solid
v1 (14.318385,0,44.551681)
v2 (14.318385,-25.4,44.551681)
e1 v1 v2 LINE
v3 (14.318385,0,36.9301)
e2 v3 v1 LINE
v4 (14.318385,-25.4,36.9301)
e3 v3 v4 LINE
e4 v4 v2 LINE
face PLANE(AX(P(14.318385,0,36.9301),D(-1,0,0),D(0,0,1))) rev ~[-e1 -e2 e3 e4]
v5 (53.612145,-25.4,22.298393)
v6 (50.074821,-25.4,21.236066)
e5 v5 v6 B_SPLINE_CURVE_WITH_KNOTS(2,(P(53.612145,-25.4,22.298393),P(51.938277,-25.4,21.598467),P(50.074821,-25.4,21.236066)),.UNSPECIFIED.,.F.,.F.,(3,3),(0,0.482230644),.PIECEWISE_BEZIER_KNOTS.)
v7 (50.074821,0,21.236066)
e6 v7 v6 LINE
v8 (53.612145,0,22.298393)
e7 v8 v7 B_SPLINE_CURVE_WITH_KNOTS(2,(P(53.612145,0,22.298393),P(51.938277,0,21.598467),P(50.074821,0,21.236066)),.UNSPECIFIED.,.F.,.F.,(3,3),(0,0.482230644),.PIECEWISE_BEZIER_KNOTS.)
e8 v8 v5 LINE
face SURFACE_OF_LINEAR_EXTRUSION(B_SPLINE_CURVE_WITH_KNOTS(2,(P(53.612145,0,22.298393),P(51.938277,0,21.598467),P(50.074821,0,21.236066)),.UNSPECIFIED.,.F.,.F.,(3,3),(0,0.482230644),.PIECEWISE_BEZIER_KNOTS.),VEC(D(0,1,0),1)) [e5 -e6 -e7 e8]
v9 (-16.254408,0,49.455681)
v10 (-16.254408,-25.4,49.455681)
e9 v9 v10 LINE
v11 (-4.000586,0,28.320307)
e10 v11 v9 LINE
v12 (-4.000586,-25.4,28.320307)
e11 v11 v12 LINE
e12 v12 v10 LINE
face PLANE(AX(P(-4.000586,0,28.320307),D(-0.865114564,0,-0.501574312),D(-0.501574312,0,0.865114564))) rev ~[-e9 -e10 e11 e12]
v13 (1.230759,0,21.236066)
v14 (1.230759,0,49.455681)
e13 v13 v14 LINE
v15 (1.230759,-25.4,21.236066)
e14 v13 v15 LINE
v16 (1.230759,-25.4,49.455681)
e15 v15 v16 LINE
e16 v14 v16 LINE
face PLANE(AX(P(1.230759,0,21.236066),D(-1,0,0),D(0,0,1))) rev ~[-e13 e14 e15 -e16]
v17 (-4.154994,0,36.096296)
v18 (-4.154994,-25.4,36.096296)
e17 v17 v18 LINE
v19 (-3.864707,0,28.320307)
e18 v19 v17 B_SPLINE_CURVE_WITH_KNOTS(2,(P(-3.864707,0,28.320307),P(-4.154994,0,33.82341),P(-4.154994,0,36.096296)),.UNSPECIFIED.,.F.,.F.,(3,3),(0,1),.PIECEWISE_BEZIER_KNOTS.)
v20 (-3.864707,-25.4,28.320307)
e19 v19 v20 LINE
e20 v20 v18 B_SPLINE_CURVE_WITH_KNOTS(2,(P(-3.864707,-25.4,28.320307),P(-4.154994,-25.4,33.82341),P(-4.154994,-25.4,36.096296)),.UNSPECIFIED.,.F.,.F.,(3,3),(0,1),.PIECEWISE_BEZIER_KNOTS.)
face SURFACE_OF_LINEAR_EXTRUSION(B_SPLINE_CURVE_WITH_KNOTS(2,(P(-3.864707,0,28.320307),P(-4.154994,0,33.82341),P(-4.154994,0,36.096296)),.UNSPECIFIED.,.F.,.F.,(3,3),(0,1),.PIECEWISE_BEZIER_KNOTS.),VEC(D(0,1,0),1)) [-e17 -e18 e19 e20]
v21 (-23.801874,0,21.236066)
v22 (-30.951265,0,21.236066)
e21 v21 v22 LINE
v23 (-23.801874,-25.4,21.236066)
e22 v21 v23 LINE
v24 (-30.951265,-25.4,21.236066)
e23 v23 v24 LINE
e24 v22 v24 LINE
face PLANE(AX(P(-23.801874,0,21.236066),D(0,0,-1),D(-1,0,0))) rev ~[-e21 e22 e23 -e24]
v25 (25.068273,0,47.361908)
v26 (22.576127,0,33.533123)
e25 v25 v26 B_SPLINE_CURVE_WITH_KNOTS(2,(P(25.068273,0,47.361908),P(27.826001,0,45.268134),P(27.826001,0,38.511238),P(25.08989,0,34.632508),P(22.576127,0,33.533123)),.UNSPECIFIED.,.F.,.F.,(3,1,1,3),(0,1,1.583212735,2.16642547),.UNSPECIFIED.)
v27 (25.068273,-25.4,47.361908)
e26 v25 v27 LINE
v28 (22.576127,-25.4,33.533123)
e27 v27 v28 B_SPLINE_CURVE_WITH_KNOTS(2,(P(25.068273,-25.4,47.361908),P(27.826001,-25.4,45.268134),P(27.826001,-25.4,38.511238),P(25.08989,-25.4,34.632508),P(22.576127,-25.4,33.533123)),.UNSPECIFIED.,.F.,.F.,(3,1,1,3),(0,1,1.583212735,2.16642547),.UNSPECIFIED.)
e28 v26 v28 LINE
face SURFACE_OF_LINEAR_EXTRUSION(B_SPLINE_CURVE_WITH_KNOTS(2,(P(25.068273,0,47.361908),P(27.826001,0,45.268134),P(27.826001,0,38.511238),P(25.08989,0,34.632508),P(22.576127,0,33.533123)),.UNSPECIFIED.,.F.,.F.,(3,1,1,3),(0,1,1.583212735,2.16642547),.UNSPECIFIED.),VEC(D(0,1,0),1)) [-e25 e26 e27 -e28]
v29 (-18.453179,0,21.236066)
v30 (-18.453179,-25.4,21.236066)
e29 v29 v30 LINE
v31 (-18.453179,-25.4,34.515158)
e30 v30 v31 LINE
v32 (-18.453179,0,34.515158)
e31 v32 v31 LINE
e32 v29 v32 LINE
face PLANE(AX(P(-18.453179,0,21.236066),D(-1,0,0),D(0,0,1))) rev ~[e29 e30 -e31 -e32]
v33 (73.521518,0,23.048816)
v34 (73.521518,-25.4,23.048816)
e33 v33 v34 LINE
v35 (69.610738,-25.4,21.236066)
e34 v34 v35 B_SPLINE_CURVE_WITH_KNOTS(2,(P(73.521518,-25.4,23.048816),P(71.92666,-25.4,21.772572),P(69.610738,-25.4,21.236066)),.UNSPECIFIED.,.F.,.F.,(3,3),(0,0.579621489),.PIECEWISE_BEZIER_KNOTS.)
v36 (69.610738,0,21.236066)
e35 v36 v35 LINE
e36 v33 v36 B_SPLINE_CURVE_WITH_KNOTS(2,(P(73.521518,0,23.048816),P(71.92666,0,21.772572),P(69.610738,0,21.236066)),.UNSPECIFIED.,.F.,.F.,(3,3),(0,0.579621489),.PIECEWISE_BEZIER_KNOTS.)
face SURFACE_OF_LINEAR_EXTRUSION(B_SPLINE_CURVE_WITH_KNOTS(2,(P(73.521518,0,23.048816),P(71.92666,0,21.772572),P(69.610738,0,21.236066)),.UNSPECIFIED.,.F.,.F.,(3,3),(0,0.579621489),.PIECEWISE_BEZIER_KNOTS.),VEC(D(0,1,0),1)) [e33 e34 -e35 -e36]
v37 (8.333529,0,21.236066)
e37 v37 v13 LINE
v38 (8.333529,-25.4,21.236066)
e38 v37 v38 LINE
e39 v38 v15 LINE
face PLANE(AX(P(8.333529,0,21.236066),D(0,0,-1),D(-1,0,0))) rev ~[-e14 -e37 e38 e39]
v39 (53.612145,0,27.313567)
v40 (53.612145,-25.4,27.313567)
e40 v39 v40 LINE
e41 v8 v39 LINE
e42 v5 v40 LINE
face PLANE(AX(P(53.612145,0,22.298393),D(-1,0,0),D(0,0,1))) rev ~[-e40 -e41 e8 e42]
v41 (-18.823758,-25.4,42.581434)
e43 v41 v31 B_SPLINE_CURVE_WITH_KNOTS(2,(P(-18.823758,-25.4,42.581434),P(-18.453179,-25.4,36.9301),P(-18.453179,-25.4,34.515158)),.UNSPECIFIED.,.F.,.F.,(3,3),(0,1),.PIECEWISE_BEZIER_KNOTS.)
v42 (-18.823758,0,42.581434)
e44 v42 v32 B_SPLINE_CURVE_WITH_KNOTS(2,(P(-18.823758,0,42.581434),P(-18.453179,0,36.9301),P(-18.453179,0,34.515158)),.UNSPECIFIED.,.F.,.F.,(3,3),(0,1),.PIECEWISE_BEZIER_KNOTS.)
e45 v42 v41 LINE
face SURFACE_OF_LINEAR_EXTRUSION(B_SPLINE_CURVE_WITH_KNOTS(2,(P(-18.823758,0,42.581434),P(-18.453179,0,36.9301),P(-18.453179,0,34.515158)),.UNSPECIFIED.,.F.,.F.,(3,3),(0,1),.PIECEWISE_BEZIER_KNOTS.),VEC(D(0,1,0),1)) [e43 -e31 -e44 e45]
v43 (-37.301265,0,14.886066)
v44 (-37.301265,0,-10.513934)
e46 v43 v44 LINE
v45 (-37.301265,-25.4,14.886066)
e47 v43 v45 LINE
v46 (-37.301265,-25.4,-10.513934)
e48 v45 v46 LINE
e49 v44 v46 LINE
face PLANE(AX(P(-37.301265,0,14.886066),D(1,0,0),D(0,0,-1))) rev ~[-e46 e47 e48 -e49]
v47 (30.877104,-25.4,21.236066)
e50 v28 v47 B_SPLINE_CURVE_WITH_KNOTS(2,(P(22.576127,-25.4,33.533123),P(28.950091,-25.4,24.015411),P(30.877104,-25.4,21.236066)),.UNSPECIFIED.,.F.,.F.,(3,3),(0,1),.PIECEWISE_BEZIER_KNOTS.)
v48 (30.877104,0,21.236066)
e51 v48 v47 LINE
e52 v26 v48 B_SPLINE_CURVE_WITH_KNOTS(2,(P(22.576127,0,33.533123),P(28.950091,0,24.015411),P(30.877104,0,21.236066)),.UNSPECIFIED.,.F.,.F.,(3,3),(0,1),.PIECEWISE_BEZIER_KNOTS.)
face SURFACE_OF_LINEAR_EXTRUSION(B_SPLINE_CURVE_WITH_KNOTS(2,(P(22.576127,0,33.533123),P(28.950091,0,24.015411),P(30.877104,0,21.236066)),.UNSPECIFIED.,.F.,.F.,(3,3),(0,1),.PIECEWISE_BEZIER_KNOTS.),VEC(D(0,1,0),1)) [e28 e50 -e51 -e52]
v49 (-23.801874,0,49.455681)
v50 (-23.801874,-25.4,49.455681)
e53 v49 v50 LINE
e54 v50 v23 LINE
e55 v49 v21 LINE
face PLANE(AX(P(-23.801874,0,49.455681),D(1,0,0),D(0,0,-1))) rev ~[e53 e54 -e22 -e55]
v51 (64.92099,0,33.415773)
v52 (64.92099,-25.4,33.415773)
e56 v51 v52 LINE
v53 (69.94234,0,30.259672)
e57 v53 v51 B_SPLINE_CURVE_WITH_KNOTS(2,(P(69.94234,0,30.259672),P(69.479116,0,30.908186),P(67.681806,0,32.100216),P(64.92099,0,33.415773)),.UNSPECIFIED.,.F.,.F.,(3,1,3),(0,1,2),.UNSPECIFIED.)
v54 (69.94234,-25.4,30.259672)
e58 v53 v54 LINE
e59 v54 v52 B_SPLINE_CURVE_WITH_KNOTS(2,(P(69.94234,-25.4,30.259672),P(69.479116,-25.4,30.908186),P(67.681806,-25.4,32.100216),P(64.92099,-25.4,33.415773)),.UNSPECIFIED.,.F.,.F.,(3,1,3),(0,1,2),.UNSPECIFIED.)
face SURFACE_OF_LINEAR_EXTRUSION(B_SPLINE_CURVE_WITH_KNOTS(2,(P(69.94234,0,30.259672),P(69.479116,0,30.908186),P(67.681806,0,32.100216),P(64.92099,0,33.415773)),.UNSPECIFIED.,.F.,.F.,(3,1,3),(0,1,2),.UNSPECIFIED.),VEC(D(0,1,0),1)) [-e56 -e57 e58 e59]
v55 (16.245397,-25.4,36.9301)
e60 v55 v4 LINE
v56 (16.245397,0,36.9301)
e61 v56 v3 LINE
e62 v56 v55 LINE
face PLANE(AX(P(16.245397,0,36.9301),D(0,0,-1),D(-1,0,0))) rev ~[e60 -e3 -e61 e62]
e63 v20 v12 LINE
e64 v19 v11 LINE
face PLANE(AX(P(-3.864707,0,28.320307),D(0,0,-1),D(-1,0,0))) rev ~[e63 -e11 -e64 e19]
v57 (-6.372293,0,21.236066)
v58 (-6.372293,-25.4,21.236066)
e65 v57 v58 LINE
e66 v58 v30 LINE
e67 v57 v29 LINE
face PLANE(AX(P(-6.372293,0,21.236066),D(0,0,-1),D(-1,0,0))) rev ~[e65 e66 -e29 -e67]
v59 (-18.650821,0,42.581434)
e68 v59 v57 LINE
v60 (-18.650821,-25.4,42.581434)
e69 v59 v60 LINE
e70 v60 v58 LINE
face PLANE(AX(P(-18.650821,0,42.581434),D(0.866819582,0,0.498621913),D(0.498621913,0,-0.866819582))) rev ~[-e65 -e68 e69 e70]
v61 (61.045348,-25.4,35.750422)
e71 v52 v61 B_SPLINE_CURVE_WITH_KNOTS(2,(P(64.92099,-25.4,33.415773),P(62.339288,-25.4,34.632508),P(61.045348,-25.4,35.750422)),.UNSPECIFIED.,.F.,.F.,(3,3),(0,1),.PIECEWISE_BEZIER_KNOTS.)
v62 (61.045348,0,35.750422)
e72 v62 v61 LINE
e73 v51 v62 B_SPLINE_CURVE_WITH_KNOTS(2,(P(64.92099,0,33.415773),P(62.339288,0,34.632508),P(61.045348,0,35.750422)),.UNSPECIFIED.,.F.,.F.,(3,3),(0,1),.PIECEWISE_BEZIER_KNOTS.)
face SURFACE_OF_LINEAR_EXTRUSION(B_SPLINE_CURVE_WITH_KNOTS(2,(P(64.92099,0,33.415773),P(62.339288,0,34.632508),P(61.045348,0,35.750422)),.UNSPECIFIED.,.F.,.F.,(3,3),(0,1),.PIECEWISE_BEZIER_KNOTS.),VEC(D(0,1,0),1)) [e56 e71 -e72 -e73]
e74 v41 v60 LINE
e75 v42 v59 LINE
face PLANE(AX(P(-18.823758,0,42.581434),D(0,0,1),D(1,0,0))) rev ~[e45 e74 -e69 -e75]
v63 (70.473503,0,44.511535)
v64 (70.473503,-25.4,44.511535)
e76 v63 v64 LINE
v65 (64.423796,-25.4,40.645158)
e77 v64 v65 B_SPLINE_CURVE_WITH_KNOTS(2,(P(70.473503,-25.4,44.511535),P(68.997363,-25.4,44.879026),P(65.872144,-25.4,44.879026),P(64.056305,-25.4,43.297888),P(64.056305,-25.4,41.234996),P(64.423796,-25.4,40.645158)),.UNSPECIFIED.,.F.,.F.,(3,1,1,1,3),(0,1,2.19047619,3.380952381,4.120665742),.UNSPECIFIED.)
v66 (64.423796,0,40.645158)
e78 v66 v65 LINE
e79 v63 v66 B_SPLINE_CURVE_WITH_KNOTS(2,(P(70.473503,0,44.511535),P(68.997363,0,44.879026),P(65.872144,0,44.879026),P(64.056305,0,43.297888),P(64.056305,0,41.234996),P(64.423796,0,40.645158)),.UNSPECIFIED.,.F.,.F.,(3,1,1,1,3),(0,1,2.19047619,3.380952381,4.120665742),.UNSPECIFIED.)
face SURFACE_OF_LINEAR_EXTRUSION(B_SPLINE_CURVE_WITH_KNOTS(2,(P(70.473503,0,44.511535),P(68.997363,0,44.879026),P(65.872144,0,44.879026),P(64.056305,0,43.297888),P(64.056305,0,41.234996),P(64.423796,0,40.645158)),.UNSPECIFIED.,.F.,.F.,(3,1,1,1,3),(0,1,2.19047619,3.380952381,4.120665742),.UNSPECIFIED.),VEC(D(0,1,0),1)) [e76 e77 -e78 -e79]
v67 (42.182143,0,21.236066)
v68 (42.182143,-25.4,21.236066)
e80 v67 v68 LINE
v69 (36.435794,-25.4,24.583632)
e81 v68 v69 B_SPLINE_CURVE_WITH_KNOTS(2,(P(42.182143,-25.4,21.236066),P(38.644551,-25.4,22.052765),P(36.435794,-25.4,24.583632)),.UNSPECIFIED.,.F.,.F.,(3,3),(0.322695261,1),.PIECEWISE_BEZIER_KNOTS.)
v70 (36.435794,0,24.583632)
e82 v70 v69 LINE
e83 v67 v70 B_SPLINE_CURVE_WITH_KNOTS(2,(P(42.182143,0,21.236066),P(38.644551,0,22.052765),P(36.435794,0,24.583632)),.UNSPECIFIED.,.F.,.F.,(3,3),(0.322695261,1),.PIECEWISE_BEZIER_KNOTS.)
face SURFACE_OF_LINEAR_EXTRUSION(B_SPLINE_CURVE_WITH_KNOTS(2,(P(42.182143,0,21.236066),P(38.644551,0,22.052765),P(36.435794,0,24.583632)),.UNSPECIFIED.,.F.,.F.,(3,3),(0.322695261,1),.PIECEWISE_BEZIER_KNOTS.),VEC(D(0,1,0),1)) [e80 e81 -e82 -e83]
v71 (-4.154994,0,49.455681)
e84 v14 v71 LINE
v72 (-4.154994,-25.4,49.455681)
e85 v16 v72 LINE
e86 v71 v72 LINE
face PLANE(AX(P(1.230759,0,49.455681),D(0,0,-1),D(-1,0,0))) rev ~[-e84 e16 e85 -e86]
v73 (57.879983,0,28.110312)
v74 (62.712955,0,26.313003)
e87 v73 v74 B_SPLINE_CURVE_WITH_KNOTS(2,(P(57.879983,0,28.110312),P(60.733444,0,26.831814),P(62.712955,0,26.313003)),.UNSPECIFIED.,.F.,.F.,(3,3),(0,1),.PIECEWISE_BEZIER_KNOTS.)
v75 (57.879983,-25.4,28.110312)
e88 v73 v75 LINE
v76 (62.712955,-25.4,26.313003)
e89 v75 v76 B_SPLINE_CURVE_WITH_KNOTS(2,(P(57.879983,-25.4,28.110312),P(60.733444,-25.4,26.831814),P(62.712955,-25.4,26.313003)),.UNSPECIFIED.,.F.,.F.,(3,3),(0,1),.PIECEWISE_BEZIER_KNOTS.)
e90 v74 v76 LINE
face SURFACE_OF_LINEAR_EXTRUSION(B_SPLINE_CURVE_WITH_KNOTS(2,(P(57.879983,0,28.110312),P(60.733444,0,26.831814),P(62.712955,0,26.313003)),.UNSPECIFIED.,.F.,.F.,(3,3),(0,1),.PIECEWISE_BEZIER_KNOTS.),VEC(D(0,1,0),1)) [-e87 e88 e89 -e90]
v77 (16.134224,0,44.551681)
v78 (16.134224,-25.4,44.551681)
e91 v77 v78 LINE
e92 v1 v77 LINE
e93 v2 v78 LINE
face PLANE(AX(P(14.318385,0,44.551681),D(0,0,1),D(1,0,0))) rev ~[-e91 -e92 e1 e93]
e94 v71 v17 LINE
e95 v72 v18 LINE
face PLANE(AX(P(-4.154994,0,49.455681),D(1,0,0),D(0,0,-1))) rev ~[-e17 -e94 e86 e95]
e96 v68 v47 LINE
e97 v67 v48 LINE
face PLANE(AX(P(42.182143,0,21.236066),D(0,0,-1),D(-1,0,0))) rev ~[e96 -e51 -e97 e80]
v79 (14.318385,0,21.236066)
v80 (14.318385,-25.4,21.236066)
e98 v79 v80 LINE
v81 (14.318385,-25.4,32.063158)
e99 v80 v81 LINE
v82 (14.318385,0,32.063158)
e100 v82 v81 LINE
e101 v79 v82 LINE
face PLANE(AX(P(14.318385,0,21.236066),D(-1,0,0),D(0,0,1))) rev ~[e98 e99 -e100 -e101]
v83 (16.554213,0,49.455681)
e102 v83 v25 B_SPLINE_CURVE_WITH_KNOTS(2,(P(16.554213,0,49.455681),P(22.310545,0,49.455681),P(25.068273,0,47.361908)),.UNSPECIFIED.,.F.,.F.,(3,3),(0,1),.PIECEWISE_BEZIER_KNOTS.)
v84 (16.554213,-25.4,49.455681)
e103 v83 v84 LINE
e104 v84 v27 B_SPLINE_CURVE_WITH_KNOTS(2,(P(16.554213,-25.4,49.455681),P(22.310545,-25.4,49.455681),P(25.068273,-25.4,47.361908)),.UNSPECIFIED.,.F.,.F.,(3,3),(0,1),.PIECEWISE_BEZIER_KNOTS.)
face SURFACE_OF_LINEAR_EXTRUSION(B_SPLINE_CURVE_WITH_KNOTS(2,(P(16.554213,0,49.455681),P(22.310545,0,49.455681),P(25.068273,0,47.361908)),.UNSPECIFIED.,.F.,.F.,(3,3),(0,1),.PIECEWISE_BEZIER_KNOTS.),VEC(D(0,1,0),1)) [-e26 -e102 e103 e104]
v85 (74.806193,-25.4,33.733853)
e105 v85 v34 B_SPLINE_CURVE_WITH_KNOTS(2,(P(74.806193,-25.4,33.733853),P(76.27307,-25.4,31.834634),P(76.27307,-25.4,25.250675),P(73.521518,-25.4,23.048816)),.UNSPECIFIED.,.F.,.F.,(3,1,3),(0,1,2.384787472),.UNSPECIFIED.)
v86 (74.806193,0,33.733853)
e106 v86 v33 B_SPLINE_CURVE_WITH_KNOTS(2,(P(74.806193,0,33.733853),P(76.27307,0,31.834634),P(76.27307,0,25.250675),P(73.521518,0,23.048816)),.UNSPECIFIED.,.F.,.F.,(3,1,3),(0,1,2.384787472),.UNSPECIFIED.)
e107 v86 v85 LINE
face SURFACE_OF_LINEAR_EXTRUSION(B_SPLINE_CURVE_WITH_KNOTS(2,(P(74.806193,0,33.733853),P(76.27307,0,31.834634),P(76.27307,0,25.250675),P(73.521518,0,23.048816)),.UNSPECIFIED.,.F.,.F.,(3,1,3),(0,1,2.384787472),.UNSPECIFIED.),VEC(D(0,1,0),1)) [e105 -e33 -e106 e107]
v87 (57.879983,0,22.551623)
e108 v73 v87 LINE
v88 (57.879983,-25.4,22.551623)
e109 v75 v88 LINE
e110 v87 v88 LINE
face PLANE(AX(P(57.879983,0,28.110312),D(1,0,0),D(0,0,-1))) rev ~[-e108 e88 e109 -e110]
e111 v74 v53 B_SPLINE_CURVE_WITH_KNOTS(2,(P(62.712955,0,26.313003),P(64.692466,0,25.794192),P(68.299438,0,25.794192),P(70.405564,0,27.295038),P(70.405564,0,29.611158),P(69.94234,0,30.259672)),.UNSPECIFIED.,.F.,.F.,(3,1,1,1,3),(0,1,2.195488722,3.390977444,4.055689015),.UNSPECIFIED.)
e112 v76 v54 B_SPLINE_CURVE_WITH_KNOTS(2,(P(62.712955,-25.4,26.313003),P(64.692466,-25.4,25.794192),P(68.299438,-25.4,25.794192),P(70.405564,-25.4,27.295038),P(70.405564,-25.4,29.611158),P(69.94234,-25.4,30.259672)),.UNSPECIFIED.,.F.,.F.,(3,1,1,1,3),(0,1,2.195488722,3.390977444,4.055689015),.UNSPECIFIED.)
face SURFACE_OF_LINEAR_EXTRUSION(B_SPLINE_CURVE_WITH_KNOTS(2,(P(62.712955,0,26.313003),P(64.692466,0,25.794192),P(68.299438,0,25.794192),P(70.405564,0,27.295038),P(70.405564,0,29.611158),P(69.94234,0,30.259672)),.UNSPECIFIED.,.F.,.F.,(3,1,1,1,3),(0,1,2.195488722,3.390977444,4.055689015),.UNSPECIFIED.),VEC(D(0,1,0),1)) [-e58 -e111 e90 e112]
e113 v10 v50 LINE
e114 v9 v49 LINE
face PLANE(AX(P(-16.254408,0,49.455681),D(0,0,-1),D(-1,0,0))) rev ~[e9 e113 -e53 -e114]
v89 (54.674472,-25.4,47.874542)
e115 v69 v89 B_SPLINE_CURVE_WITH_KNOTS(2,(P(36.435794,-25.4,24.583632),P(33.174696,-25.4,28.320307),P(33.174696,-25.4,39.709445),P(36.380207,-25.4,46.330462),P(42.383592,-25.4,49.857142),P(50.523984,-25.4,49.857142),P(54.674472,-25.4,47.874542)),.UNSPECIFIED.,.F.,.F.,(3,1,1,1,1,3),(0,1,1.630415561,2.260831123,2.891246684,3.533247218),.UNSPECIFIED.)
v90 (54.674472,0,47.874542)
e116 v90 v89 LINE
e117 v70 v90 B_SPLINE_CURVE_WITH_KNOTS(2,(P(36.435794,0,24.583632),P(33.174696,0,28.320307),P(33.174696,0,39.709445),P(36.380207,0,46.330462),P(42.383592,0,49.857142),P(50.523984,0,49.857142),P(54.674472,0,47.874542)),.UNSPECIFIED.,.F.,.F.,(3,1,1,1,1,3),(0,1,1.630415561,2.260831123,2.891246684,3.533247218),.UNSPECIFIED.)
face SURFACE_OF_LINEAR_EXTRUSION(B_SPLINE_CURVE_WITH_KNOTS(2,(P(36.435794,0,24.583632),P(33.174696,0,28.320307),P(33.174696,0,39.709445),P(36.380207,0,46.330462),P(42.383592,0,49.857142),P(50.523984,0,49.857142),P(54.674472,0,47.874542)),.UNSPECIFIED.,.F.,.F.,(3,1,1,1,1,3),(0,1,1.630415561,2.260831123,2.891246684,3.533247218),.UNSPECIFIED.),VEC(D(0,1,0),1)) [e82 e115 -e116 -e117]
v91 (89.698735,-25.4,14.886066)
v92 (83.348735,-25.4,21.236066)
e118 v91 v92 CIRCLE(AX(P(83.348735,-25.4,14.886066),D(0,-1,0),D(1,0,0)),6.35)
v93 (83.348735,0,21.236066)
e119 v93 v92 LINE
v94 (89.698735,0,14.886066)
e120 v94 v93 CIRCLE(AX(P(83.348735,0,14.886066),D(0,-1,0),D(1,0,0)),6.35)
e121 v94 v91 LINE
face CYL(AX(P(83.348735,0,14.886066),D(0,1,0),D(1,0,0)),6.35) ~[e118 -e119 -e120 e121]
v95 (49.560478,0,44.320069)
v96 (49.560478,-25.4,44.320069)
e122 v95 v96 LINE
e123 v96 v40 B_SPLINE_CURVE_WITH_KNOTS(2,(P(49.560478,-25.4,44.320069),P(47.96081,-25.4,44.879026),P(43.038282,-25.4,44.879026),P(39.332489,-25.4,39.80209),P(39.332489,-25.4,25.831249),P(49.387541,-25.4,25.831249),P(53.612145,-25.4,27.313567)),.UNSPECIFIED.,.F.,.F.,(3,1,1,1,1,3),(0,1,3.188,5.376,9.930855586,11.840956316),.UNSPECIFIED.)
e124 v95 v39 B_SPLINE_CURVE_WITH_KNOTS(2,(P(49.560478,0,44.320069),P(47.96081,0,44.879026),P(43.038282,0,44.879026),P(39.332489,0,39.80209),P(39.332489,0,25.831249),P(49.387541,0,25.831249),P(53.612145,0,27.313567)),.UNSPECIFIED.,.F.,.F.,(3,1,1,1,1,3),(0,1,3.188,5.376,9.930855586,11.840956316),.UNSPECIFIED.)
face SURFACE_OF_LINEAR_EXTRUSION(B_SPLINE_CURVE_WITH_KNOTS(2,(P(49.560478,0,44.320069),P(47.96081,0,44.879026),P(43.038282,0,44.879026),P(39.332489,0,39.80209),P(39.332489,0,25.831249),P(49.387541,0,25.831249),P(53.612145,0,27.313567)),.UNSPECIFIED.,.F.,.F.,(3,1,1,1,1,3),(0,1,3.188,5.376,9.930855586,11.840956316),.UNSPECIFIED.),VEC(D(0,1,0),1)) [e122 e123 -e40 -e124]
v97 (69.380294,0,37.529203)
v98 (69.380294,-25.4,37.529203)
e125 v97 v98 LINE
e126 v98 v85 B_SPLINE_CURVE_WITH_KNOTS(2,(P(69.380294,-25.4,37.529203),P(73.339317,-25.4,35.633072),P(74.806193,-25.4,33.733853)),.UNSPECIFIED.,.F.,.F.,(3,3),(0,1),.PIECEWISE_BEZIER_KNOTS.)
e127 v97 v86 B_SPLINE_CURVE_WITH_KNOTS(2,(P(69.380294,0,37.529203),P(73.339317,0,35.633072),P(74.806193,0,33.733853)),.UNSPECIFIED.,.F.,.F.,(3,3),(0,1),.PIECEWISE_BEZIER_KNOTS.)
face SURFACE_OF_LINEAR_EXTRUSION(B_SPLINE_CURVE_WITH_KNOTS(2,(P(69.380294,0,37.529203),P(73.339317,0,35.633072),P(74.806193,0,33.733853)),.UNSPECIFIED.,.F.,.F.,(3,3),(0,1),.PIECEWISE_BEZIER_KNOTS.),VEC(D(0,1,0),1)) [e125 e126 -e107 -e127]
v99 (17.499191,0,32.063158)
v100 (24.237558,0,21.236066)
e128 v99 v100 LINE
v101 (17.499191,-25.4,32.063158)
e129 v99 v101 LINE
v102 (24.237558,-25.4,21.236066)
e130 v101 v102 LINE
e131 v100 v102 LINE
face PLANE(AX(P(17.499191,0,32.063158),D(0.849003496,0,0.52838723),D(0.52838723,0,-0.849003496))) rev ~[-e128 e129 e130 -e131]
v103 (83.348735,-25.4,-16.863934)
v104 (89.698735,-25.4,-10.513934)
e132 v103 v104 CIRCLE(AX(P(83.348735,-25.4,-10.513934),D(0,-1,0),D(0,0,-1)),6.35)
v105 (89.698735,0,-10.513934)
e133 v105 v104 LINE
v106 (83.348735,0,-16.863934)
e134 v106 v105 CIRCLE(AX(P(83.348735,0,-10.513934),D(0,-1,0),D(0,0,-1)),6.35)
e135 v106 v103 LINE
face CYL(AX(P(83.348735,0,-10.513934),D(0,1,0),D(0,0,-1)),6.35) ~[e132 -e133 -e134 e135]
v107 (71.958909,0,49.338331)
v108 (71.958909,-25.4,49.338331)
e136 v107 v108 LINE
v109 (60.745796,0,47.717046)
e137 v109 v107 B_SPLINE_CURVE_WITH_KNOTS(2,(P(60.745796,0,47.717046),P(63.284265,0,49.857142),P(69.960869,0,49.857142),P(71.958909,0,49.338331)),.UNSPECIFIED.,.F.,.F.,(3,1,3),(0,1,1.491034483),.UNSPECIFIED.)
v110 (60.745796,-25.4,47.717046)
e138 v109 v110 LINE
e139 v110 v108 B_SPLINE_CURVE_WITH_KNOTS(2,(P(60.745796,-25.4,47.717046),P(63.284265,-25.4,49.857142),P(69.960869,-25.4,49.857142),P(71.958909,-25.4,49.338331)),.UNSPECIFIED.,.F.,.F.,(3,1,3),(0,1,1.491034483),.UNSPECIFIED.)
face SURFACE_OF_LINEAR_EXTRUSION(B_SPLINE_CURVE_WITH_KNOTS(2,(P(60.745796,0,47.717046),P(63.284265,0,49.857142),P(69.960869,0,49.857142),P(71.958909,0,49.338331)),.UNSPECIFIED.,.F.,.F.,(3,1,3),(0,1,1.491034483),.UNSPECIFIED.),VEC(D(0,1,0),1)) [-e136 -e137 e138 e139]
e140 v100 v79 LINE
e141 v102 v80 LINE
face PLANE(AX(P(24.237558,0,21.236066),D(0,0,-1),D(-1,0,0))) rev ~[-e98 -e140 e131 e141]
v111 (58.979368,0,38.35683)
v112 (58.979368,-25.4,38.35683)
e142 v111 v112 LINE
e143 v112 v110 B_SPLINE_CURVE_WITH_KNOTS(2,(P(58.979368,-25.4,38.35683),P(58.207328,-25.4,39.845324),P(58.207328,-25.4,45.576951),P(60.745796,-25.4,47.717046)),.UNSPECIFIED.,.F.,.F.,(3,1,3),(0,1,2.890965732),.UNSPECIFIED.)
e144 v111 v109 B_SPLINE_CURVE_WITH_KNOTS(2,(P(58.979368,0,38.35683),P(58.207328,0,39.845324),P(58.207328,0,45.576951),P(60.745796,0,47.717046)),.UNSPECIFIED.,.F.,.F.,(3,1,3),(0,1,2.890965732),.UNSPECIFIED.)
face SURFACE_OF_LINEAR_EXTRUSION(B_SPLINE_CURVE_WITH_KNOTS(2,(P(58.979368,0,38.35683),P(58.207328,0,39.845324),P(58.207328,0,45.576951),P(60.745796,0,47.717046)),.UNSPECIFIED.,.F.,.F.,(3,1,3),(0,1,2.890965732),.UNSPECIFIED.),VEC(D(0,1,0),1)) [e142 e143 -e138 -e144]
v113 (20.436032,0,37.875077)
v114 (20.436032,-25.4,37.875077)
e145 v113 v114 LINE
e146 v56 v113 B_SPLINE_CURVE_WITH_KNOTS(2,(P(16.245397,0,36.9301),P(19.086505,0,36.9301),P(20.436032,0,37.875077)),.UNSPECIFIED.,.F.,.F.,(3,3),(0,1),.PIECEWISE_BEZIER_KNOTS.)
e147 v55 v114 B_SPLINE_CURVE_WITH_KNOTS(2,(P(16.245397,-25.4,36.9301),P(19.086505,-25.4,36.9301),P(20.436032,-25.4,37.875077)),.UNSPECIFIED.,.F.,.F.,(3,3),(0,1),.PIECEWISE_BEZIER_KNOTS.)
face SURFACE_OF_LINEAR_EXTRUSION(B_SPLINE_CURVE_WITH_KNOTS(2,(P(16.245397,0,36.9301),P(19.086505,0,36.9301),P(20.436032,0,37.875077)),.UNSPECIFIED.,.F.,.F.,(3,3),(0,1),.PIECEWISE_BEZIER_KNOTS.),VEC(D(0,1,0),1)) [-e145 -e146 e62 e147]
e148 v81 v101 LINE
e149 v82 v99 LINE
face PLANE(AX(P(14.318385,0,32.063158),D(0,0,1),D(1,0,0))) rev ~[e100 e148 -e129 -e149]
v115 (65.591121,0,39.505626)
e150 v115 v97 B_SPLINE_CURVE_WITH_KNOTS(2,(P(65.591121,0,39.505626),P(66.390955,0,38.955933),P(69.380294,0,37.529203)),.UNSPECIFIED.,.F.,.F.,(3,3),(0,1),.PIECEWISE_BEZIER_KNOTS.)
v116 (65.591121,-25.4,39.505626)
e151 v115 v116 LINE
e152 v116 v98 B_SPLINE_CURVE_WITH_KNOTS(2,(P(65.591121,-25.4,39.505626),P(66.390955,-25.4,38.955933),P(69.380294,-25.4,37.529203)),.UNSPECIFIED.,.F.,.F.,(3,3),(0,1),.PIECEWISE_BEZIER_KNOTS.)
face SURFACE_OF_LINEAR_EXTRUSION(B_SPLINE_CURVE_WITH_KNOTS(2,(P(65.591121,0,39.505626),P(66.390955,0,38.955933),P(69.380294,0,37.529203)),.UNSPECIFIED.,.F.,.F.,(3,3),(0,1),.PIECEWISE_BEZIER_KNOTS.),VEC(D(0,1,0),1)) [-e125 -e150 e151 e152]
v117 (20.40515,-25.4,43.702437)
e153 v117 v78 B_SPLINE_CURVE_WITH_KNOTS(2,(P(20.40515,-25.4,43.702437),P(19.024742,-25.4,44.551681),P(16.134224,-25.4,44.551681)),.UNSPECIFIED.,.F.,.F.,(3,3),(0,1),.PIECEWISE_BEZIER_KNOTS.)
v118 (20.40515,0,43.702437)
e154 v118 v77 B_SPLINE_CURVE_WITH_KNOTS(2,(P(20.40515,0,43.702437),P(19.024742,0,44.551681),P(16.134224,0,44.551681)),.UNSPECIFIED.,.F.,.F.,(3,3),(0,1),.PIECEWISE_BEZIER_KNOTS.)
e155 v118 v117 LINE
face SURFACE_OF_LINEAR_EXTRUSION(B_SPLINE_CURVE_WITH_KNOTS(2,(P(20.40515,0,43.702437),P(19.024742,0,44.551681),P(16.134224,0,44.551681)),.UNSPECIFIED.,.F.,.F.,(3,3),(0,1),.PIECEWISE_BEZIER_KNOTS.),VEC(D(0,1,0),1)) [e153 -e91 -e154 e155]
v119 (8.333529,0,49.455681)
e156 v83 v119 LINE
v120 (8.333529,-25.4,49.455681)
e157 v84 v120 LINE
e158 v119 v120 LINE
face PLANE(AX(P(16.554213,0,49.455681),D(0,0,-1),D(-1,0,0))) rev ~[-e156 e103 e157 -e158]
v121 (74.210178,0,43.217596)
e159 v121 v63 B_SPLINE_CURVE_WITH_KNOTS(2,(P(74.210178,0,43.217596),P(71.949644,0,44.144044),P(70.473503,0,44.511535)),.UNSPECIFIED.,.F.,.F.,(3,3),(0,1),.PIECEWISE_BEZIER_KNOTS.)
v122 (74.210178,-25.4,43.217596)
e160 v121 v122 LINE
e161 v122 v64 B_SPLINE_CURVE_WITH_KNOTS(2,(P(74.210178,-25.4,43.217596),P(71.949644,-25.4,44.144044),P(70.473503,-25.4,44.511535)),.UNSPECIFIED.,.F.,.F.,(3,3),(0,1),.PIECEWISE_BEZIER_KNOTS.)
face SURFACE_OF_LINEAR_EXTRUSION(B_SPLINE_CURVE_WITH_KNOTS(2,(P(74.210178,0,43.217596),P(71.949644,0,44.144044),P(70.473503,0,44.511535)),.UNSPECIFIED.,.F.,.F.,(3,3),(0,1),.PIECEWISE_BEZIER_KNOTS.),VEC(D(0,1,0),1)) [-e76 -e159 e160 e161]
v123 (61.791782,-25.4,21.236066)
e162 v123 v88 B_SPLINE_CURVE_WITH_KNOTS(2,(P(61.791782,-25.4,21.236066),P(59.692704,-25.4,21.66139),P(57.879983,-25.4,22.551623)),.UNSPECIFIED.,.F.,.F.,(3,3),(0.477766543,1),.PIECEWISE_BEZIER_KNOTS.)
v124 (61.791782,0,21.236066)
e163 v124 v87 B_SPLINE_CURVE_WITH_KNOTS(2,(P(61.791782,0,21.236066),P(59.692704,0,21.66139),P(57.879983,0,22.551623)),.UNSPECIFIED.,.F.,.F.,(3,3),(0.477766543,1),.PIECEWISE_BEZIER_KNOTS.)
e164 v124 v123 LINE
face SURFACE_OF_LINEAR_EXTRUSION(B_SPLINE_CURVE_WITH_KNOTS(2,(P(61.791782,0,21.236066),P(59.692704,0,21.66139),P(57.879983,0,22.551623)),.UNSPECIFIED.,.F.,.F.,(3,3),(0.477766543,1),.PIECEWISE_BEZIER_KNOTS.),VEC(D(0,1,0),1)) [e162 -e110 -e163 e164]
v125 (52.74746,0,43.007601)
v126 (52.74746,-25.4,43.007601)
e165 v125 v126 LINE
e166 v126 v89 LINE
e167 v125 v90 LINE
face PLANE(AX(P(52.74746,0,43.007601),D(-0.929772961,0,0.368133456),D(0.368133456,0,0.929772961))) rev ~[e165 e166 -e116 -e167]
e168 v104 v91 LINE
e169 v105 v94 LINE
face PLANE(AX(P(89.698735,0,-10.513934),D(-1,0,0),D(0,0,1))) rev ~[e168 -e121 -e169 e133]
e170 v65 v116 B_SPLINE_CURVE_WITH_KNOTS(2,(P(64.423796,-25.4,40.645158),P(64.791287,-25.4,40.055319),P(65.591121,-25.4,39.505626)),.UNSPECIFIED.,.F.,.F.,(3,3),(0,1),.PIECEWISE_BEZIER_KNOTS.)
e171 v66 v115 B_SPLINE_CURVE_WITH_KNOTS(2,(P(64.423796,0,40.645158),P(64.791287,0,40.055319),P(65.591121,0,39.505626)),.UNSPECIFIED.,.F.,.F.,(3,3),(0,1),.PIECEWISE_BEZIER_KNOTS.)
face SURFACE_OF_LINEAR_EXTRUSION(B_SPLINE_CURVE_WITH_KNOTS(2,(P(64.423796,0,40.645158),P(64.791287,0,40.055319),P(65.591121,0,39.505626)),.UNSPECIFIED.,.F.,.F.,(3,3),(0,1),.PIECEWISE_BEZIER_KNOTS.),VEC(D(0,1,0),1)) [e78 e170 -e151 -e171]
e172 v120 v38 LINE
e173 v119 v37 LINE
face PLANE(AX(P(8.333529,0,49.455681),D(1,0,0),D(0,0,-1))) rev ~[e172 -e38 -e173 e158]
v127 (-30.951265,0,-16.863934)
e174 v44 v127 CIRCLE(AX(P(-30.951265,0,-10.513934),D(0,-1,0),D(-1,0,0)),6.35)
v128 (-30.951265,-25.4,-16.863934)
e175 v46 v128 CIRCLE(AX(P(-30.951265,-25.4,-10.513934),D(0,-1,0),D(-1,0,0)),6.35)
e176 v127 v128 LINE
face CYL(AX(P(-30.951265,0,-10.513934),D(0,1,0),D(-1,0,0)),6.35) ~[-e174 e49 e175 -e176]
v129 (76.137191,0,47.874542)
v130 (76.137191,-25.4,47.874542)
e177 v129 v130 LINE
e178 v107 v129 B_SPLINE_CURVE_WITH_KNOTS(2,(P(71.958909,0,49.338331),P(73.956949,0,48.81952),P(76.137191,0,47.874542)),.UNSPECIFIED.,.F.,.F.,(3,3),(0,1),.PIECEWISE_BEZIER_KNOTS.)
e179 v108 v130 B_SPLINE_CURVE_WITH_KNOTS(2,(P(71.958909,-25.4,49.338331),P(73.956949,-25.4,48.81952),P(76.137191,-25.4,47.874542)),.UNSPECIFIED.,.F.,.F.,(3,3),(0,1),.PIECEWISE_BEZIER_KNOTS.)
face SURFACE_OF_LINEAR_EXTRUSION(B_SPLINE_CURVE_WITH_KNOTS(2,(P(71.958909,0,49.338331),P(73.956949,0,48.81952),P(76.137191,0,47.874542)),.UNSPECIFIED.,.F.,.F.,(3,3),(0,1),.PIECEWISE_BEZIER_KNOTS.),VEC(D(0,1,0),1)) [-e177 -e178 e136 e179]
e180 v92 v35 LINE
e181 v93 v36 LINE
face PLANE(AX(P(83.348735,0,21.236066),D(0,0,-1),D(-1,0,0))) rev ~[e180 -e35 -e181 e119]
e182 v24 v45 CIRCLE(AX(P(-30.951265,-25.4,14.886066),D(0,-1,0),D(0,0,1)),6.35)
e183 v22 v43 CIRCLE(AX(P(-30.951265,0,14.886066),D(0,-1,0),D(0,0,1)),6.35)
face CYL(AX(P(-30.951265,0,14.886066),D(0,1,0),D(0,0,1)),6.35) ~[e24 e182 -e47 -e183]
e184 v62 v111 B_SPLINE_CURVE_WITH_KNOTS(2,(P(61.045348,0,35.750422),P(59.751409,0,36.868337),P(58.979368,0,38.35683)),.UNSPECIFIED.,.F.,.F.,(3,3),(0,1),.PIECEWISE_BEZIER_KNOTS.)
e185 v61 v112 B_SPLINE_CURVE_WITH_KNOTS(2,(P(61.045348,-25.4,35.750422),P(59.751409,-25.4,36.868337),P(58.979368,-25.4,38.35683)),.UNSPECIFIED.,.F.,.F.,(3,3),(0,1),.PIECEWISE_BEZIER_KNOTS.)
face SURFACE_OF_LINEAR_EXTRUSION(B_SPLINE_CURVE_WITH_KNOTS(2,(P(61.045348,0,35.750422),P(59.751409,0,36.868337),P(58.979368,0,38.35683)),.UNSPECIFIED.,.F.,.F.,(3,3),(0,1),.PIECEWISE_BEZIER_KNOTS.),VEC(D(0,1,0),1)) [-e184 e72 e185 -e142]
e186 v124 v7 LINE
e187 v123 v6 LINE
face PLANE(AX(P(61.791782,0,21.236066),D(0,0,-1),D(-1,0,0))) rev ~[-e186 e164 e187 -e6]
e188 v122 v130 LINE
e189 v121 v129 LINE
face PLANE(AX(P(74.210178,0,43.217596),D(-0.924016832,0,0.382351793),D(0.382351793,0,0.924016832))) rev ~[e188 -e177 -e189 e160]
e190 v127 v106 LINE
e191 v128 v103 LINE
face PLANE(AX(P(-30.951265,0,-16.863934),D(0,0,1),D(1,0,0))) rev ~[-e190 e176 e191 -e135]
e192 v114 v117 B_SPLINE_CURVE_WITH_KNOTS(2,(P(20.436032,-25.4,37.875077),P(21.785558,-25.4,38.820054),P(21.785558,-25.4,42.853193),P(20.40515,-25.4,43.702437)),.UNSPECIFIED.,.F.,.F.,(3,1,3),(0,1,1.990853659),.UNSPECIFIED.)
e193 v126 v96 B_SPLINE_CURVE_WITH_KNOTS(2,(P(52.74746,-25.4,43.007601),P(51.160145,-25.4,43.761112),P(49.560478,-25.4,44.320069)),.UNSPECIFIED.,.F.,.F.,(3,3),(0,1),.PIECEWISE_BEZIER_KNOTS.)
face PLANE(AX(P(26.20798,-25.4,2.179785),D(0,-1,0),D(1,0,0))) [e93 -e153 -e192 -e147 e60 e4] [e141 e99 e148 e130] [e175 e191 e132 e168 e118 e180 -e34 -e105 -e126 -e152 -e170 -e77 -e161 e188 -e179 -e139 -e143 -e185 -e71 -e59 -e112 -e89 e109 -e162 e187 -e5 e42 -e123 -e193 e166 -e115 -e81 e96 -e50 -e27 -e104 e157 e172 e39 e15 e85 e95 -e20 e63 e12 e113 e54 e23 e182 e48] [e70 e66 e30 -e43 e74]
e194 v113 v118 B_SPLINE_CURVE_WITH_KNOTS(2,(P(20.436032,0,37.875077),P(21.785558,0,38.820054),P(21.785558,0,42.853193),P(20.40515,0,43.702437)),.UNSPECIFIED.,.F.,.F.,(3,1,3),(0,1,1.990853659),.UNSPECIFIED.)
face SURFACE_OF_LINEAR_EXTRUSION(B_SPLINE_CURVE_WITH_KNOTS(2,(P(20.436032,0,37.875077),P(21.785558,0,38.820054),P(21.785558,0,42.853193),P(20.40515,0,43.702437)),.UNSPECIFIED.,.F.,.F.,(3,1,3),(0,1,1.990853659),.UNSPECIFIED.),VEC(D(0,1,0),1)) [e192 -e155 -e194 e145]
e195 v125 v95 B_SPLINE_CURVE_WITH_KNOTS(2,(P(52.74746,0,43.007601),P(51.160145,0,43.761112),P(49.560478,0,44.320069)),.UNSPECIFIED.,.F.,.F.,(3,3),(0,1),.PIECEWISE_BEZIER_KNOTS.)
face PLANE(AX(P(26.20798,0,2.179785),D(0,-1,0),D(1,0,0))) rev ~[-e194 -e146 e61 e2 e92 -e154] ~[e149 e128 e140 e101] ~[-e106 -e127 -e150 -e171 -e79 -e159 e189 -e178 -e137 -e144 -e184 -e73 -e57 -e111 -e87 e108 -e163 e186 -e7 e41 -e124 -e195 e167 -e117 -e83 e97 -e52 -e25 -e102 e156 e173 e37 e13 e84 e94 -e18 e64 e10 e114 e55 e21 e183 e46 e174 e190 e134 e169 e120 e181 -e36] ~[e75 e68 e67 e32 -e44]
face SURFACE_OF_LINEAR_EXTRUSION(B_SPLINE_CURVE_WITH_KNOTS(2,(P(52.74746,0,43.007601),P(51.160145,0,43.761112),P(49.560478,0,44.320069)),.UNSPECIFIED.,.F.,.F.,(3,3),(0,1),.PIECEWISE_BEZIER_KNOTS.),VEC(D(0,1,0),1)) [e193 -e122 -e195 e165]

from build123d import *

# Parameters (mm, degrees)
F1_DEPTH = 25.4


with BuildPart() as f1:
    # F0 (on Front) → F1 (new body)
    with BuildSketch(Plane.XZ):
        with BuildLine():
            ThreePointArc((-37.3012647021, -10.5139339946), (-35.4413927627, -15.0040620552), (-30.9512647021, -16.8639339946))
            Line((-30.9512647021, -16.8639339946), (83.3487352979, -16.8639339946))
            ThreePointArc((83.3487352979, -16.8639339946), (87.8388633584, -15.0040620552), (89.6987352979, -10.5139339946))
            Line((89.6987352979, -10.5139339946), (89.6987352979, 14.8860660054))
            ThreePointArc((89.6987352979, 14.8860660054), (87.8388633584, 19.3761940659), (83.3487352979, 21.2360660054))
            Line((83.3487352979, 21.2360660054), (69.6107378608, 21.2360660054))
            add(Edge.make_bspline(
                [(69.6107378608, 21.2360660054), (67.9310832834, 20.846957727), (65.8721436381, 20.846957727)],
                knots=[0.5796214889, 0.5796214889, 0.5796214889, 1, 1, 1], degree=2))
            add(Edge.make_bspline(
                [(65.8721436381, 20.846957727), (63.712128793, 20.846957727), (61.7917820904, 21.2360660054)],
                knots=[0, 0, 0, 0.477766543, 0.477766543, 0.477766543], degree=2))
            Line((61.7917820904, 21.2360660054), (50.0748208435, 21.2360660054))
            add(Edge.make_bspline(
                [(50.0748208435, 21.2360660054), (48.0740341098, 20.846957727), (45.8546844283, 20.846957727)],
                knots=[0.4822306436, 0.4822306436, 0.4822306436, 1, 1, 1], degree=2))
            add(Edge.make_bspline(
                [(45.8546844283, 20.846957727), (43.8675938375, 20.846957727), (42.1821425568, 21.2360660054)],
                knots=[0, 0, 0, 0.3226952609, 0.3226952609, 0.3226952609], degree=2))
            Line((42.1821425568, 21.2360660054), (30.8771038717, 21.2360660054))
            Line((30.8771038717, 21.2360660054), (24.2375578518, 21.2360660054))
            Line((24.2375578518, 21.2360660054), (14.3183849141, 21.2360660054))
            Line((14.3183849141, 21.2360660054), (8.3335290134, 21.2360660054))
            Line((8.3335290134, 21.2360660054), (1.2307588525, 21.2360660054))
            Line((1.2307588525, 21.2360660054), (-6.3722933805, 21.2360660054))
            Line((-6.3722933805, 21.2360660054), (-18.4531789759, 21.2360660054))
            Line((-18.4531789759, 21.2360660054), (-23.8018737231, 21.2360660054))
            Line((-23.8018737231, 21.2360660054), (-30.9512647021, 21.2360660054))
            ThreePointArc((-30.9512647021, 21.2360660054), (-35.4413927627, 19.3761940659), (-37.3012647021, 14.8860660054))
            Line((-37.3012647021, 14.8860660054), (-37.3012647021, -10.5139339946))
        make_face()
        with BuildLine():
            Line((-23.8018737231, 49.4556806705), (-23.8018737231, 21.2360660054))
            Line((-23.8018737231, 21.2360660054), (-18.4531789759, 21.2360660054))
            Line((-18.4531789759, 21.2360660054), (-18.4531789759, 34.5151580452))
            add(Edge.make_bspline(
                [(-18.8237582886, 42.5814344192), (-18.4531789759, 36.9300998999), (-18.4531789759, 34.5151580452)],
                knots=[0, 0, 0, 1, 1, 1], degree=2))
            Line((-18.8237582886, 42.5814344192), (-18.650821276, 42.5814344192))
            Line((-18.650821276, 42.5814344192), (-6.3722933805, 21.2360660054))
            Line((-6.3722933805, 21.2360660054), (1.2307588525, 21.2360660054))
            Line((1.2307588525, 21.2360660054), (1.2307588525, 49.4556806705))
            Line((1.2307588525, 49.4556806705), (-4.154993826, 49.4556806705))
            Line((-4.154993826, 49.4556806705), (-4.154993826, 36.0962964462))
            add(Edge.make_bspline(
                [(-3.8647066977, 28.3203072006), (-4.154993826, 33.8234099948), (-4.154993826, 36.0962964462)],
                knots=[0, 0, 0, 1, 1, 1], degree=2))
            Line((-3.8647066977, 28.3203072006), (-4.000585779, 28.3203072006))
            Line((-4.000585779, 28.3203072006), (-16.2544083869, 49.4556806705))
            Line((-16.2544083869, 49.4556806705), (-23.8018737231, 49.4556806705))
        make_face()
        with BuildLine():
            add(Edge.make_bspline(
                [(69.6107378608, 21.2360660054), (67.9310832834, 20.846957727), (65.8721436381, 20.846957727)],
                knots=[0.5796214889, 0.5796214889, 0.5796214889, 1, 1, 1], degree=2))
            Line((69.6107378608, 21.2360660054), (61.7917820904, 21.2360660054))
            add(Edge.make_bspline(
                [(65.8721436381, 20.846957727), (63.712128793, 20.846957727), (61.7917820904, 21.2360660054)],
                knots=[0, 0, 0, 0.477766543, 0.477766543, 0.477766543], degree=2))
        make_face()
        with BuildLine():
            Line((61.7917820904, 21.2360660054), (69.6107378608, 21.2360660054))
            add(Edge.make_bspline(
                [(73.5215182852, 23.0488164769), (71.9266599676, 21.7725718298), (69.6107378608, 21.2360660054)],
                knots=[0, 0, 0, 0.5796214889, 0.5796214889, 0.5796214889], degree=2))
            add(Edge.make_bspline(
                [(76.2730696823, 29.0738184698), (76.2730696823, 25.2506752267), (73.5215182852, 23.0488164769)],
                knots=[0, 0, 0, 1, 1, 1], degree=2))
            add(Edge.make_bspline(
                [(74.8061932361, 33.7338533275), (76.2730696823, 31.8346343497), (76.2730696823, 29.0738184698)],
                knots=[0, 0, 0, 1, 1, 1], degree=2))
            add(Edge.make_bspline(
                [(69.3802944654, 37.5292031222), (73.3393167898, 35.6330723053), (74.8061932361, 33.7338533275)],
                knots=[0, 0, 0, 1, 1, 1], degree=2))
            add(Edge.make_bspline(
                [(65.5911209926, 39.5056261235), (66.3909546759, 38.9559334762), (69.3802944654, 37.5292031222)],
                knots=[0, 0, 0, 1, 1, 1], degree=2))
            add(Edge.make_bspline(
                [(64.4237961575, 40.6451575101), (64.7912873093, 40.0553187707), (65.5911209926, 39.5056261235)],
                knots=[0, 0, 0, 1, 1, 1], degree=2))
            add(Edge.make_bspline(
                [(64.0563050057, 42.0255654501), (64.0563050057, 41.2349962496), (64.4237961575, 40.6451575101)],
                knots=[0, 0, 0, 1, 1, 1], degree=2))
            add(Edge.make_bspline(
                [(64.9642243219, 44.0884569577), (64.0563050057, 43.2978877572), (64.0563050057, 42.0255654501)],
                knots=[0, 0, 0, 1, 1, 1], degree=2))
            add(Edge.make_bspline(
                [(67.5706321548, 44.8790261582), (65.8721436381, 44.8790261582), (64.9642243219, 44.0884569577)],
                knots=[0, 0, 0, 1, 1, 1], degree=2))
            add(Edge.make_bspline(
                [(70.4735034379, 44.5115350064), (68.9973625089, 44.8790261582), (67.5706321548, 44.8790261582)],
                knots=[0, 0, 0, 1, 1, 1], degree=2))
            add(Edge.make_bspline(
                [(74.2101781747, 43.2175955727), (71.949644367, 44.1440438546), (70.4735034379, 44.5115350064)],
                knots=[0, 0, 0, 1, 1, 1], degree=2))
            Line((74.2101781747, 43.2175955727), (76.137190601, 47.8745422695))
            add(Edge.make_bspline(
                [(71.9589088498, 49.3383305548), (73.9569489777, 48.819519517), (76.137190601, 47.8745422695)],
                knots=[0, 0, 0, 1, 1, 1], degree=2))
            add(Edge.make_bspline(
                [(67.7620981331, 49.8571415927), (69.960868722, 49.8571415927), (71.9589088498, 49.3383305548)],
                knots=[0, 0, 0, 1, 1, 1], degree=2))
            add(Edge.make_bspline(
                [(60.7457964785, 47.7170460616), (63.2842647708, 49.8571415927), (67.7620981331, 49.8571415927)],
                knots=[0, 0, 0, 1, 1, 1], degree=2))
            add(Edge.make_bspline(
                [(58.2073281863, 41.82792315), (58.2073281863, 45.5769505305), (60.7457964785, 47.7170460616)],
                knots=[0, 0, 0, 1, 1, 1], degree=2))
            add(Edge.make_bspline(
                [(58.9793684211, 38.356830254), (58.2073281863, 39.8453238268), (58.2073281863, 41.82792315)],
                knots=[0, 0, 0, 1, 1, 1], degree=2))
            add(Edge.make_bspline(
                [(61.0453480897, 35.750422421), (59.751408656, 36.8683366811), (58.9793684211, 38.356830254)],
                knots=[0, 0, 0, 1, 1, 1], degree=2))
            add(Edge.make_bspline(
                [(64.9209900687, 33.4157727508), (62.3392875233, 34.6325081609), (61.0453480897, 35.750422421)],
                knots=[0, 0, 0, 1, 1, 1], degree=2))
            add(Edge.make_bspline(
                [(68.580460782, 31.5042011292), (67.6818059486, 32.1002161905), (64.9209900687, 33.4157727508)],
                knots=[0, 0, 0, 1, 1, 1], degree=2))
            add(Edge.make_bspline(
                [(69.9423397564, 30.2596722706), (69.4791156154, 30.9081860679), (68.580460782, 31.5042011292)],
                knots=[0, 0, 0, 1, 1, 1], degree=2))
            add(Edge.make_bspline(
                [(70.4055638973, 28.7835313415), (70.4055638973, 29.6111584733), (69.9423397564, 30.2596722706)],
                knots=[0, 0, 0, 1, 1, 1], degree=2))
            add(Edge.make_bspline(
                [(69.3525010169, 26.5446146604), (70.4055638973, 27.2950377687), (70.4055638973, 28.7835313415)],
                knots=[0, 0, 0, 1, 1, 1], degree=2))
            add(Edge.make_bspline(
                [(66.335367779, 25.7941915521), (68.2994381365, 25.7941915521), (69.3525010169, 26.5446146604)],
                knots=[0, 0, 0, 1, 1, 1], degree=2))
            add(Edge.make_bspline(
                [(62.712954997, 26.3130025899), (64.6924661592, 25.7941915521), (66.335367779, 25.7941915521)],
                knots=[0, 0, 0, 1, 1, 1], degree=2))
            add(Edge.make_bspline(
                [(57.8799831267, 28.1103122567), (60.7334438348, 26.8318136278), (62.712954997, 26.3130025899)],
                knots=[0, 0, 0, 1, 1, 1], degree=2))
            Line((57.8799831267, 28.1103122567), (57.8799831267, 22.5516225656))
            add(Edge.make_bspline(
                [(61.7917820904, 21.2360660054), (59.6927039695, 21.6613895538), (57.8799831267, 22.5516225656)],
                knots=[0.477766543, 0.477766543, 0.477766543, 1, 1, 1], degree=2))
        make_face()
        with BuildLine():
            add(Edge.make_bspline(
                [(50.0748208435, 21.2360660054), (48.0740341098, 20.846957727), (45.8546844283, 20.846957727)],
                knots=[0.4822306436, 0.4822306436, 0.4822306436, 1, 1, 1], degree=2))
            Line((50.0748208435, 21.2360660054), (42.1821425568, 21.2360660054))
            add(Edge.make_bspline(
                [(45.8546844283, 20.846957727), (43.8675938375, 20.846957727), (42.1821425568, 21.2360660054)],
                knots=[0, 0, 0, 0.3226952609, 0.3226952609, 0.3226952609], degree=2))
        make_face()
        with BuildLine():
            Line((42.1821425568, 21.2360660054), (50.0748208435, 21.2360660054))
            add(Edge.make_bspline(
                [(53.6121447083, 22.2983933686), (51.9382773469, 21.5984666249), (50.0748208435, 21.2360660054)],
                knots=[0, 0, 0, 0.4822306436, 0.4822306436, 0.4822306436], degree=2))
            Line((53.6121447083, 22.2983933686), (53.6121447083, 27.3135667343))
            add(Edge.make_bspline(
                [(46.4167297193, 25.8312494834), (49.3875405431, 25.8312494834), (53.6121447083, 27.3135667343)],
                knots=[0, 0, 0, 1, 1, 1], degree=2))
            add(Edge.make_bspline(
                [(39.332488524, 35.2686693145), (39.332488524, 25.8312494834), (46.4167297193, 25.8312494834)],
                knots=[0, 0, 0, 1, 1, 1], degree=2))
            add(Edge.make_bspline(
                [(41.1853850877, 42.3405578659), (39.332488524, 39.8020895736), (39.332488524, 35.2686693145)],
                knots=[0, 0, 0, 1, 1, 1], degree=2))
            add(Edge.make_bspline(
                [(46.4167297193, 44.8790261582), (43.0382816514, 44.8790261582), (41.1853850877, 42.3405578659)],
                knots=[0, 0, 0, 1, 1, 1], degree=2))
            add(Edge.make_bspline(
                [(49.5604775557, 44.3200690281), (47.960810189, 44.8790261582), (46.4167297193, 44.8790261582)],
                knots=[0, 0, 0, 1, 1, 1], degree=2))
            add(Edge.make_bspline(
                [(52.7474596452, 43.0076006288), (51.1601449223, 43.7611118981), (49.5604775557, 44.3200690281)],
                knots=[0, 0, 0, 1, 1, 1], degree=2))
            Line((52.7474596452, 43.0076006288), (54.6744720715, 47.8745422695))
            add(Edge.make_bspline(
                [(46.4167297193, 49.8571415927), (50.5239837688, 49.8571415927), (54.6744720715, 47.8745422695)],
                knots=[0, 0, 0, 1, 1, 1], degree=2))
            add(Edge.make_bspline(
                [(39.3818990991, 48.0938016962), (42.3835915323, 49.8571415927), (46.4167297193, 49.8571415927)],
                knots=[0, 0, 0, 1, 1, 1], degree=2))
            add(Edge.make_bspline(
                [(34.7774511383, 43.0199532726), (36.3802066659, 46.3304617997), (39.3818990991, 48.0938016962)],
                knots=[0, 0, 0, 1, 1, 1], degree=2))
            add(Edge.make_bspline(
                [(33.1746956107, 35.3057272457), (33.1746956107, 39.7094447455), (34.7774511383, 43.0199532726)],
                knots=[0, 0, 0, 1, 1, 1], degree=2))
            add(Edge.make_bspline(
                [(36.4357935628, 24.5836324638), (33.1746956107, 28.3203072006), (33.1746956107, 35.3057272457)],
                knots=[0, 0, 0, 1, 1, 1], degree=2))
            add(Edge.make_bspline(
                [(42.1821425568, 21.2360660054), (38.6445506604, 22.0527649561), (36.4357935628, 24.5836324638)],
                knots=[0.3226952609, 0.3226952609, 0.3226952609, 1, 1, 1], degree=2))
        make_face()
        with BuildLine():
            Line((8.3335290134, 49.4556806705), (8.3335290134, 21.2360660054))
            Line((8.3335290134, 21.2360660054), (14.3183849141, 21.2360660054))
            Line((14.3183849141, 21.2360660054), (14.3183849141, 32.0631582593))
            Line((14.3183849141, 32.0631582593), (17.4991906818, 32.0631582593))
            Line((17.4991906818, 32.0631582593), (24.2375578518, 21.2360660054))
            Line((24.2375578518, 21.2360660054), (30.8771038717, 21.2360660054))
            add(Edge.make_bspline(
                [(22.5761272663, 33.5331228665), (28.9500914454, 24.0154108509), (30.8771038717, 21.2360660054)],
                knots=[0, 0, 0, 1, 1, 1], degree=2))
            add(Edge.make_bspline(
                [(26.4579455673, 36.5718732309), (25.0898902711, 34.6325081609), (22.5761272663, 33.5331228665)],
                knots=[0, 0, 0, 1, 1, 1], degree=2))
            add(Edge.make_bspline(
                [(27.8260008635, 41.0002960182), (27.8260008635, 38.5112383009), (26.4579455673, 36.5718732309)],
                knots=[0, 0, 0, 1, 1, 1], degree=2))
            add(Edge.make_bspline(
                [(25.0682731445, 47.3619075535), (27.8260008635, 45.2681344366), (27.8260008635, 41.0002960182)],
                knots=[0, 0, 0, 1, 1, 1], degree=2))
            add(Edge.make_bspline(
                [(16.5542134343, 49.4556806705), (22.3105454255, 49.4556806705), (25.0682731445, 47.3619075535)],
                knots=[0, 0, 0, 1, 1, 1], degree=2))
            Line((16.5542134343, 49.4556806705), (8.3335290134, 49.4556806705))
        make_face()
        with BuildLine():
            Line((16.2453973404, 36.9300998999), (14.3183849141, 36.9300998999))
            Line((14.3183849141, 36.9300998999), (14.3183849141, 44.5516810986))
            Line((14.3183849141, 44.5516810986), (16.1342235465, 44.5516810986))
            add(Edge.make_bspline(
                [(20.4051501259, 43.7024368402), (19.0247421859, 44.5516810986), (16.1342235465, 44.5516810986)],
                knots=[0, 0, 0, 1, 1, 1], degree=2))
            add(Edge.make_bspline(
                [(21.7855580658, 40.8458879712), (21.7855580658, 42.8531925819), (20.4051501259, 43.7024368402)],
                knots=[0, 0, 0, 1, 1, 1], degree=2))
            add(Edge.make_bspline(
                [(20.4360317353, 37.8750771474), (21.7855580658, 38.8200543949), (21.7855580658, 40.8458879712)],
                knots=[0, 0, 0, 1, 1, 1], degree=2))
            add(Edge.make_bspline(
                [(16.2453973404, 36.9300998999), (19.0865054047, 36.9300998999), (20.4360317353, 37.8750771474)],
                knots=[0, 0, 0, 1, 1, 1], degree=2))
        make_face(mode=Mode.SUBTRACT)
    extrude(amount=F1_DEPTH)


solid = f1.part
